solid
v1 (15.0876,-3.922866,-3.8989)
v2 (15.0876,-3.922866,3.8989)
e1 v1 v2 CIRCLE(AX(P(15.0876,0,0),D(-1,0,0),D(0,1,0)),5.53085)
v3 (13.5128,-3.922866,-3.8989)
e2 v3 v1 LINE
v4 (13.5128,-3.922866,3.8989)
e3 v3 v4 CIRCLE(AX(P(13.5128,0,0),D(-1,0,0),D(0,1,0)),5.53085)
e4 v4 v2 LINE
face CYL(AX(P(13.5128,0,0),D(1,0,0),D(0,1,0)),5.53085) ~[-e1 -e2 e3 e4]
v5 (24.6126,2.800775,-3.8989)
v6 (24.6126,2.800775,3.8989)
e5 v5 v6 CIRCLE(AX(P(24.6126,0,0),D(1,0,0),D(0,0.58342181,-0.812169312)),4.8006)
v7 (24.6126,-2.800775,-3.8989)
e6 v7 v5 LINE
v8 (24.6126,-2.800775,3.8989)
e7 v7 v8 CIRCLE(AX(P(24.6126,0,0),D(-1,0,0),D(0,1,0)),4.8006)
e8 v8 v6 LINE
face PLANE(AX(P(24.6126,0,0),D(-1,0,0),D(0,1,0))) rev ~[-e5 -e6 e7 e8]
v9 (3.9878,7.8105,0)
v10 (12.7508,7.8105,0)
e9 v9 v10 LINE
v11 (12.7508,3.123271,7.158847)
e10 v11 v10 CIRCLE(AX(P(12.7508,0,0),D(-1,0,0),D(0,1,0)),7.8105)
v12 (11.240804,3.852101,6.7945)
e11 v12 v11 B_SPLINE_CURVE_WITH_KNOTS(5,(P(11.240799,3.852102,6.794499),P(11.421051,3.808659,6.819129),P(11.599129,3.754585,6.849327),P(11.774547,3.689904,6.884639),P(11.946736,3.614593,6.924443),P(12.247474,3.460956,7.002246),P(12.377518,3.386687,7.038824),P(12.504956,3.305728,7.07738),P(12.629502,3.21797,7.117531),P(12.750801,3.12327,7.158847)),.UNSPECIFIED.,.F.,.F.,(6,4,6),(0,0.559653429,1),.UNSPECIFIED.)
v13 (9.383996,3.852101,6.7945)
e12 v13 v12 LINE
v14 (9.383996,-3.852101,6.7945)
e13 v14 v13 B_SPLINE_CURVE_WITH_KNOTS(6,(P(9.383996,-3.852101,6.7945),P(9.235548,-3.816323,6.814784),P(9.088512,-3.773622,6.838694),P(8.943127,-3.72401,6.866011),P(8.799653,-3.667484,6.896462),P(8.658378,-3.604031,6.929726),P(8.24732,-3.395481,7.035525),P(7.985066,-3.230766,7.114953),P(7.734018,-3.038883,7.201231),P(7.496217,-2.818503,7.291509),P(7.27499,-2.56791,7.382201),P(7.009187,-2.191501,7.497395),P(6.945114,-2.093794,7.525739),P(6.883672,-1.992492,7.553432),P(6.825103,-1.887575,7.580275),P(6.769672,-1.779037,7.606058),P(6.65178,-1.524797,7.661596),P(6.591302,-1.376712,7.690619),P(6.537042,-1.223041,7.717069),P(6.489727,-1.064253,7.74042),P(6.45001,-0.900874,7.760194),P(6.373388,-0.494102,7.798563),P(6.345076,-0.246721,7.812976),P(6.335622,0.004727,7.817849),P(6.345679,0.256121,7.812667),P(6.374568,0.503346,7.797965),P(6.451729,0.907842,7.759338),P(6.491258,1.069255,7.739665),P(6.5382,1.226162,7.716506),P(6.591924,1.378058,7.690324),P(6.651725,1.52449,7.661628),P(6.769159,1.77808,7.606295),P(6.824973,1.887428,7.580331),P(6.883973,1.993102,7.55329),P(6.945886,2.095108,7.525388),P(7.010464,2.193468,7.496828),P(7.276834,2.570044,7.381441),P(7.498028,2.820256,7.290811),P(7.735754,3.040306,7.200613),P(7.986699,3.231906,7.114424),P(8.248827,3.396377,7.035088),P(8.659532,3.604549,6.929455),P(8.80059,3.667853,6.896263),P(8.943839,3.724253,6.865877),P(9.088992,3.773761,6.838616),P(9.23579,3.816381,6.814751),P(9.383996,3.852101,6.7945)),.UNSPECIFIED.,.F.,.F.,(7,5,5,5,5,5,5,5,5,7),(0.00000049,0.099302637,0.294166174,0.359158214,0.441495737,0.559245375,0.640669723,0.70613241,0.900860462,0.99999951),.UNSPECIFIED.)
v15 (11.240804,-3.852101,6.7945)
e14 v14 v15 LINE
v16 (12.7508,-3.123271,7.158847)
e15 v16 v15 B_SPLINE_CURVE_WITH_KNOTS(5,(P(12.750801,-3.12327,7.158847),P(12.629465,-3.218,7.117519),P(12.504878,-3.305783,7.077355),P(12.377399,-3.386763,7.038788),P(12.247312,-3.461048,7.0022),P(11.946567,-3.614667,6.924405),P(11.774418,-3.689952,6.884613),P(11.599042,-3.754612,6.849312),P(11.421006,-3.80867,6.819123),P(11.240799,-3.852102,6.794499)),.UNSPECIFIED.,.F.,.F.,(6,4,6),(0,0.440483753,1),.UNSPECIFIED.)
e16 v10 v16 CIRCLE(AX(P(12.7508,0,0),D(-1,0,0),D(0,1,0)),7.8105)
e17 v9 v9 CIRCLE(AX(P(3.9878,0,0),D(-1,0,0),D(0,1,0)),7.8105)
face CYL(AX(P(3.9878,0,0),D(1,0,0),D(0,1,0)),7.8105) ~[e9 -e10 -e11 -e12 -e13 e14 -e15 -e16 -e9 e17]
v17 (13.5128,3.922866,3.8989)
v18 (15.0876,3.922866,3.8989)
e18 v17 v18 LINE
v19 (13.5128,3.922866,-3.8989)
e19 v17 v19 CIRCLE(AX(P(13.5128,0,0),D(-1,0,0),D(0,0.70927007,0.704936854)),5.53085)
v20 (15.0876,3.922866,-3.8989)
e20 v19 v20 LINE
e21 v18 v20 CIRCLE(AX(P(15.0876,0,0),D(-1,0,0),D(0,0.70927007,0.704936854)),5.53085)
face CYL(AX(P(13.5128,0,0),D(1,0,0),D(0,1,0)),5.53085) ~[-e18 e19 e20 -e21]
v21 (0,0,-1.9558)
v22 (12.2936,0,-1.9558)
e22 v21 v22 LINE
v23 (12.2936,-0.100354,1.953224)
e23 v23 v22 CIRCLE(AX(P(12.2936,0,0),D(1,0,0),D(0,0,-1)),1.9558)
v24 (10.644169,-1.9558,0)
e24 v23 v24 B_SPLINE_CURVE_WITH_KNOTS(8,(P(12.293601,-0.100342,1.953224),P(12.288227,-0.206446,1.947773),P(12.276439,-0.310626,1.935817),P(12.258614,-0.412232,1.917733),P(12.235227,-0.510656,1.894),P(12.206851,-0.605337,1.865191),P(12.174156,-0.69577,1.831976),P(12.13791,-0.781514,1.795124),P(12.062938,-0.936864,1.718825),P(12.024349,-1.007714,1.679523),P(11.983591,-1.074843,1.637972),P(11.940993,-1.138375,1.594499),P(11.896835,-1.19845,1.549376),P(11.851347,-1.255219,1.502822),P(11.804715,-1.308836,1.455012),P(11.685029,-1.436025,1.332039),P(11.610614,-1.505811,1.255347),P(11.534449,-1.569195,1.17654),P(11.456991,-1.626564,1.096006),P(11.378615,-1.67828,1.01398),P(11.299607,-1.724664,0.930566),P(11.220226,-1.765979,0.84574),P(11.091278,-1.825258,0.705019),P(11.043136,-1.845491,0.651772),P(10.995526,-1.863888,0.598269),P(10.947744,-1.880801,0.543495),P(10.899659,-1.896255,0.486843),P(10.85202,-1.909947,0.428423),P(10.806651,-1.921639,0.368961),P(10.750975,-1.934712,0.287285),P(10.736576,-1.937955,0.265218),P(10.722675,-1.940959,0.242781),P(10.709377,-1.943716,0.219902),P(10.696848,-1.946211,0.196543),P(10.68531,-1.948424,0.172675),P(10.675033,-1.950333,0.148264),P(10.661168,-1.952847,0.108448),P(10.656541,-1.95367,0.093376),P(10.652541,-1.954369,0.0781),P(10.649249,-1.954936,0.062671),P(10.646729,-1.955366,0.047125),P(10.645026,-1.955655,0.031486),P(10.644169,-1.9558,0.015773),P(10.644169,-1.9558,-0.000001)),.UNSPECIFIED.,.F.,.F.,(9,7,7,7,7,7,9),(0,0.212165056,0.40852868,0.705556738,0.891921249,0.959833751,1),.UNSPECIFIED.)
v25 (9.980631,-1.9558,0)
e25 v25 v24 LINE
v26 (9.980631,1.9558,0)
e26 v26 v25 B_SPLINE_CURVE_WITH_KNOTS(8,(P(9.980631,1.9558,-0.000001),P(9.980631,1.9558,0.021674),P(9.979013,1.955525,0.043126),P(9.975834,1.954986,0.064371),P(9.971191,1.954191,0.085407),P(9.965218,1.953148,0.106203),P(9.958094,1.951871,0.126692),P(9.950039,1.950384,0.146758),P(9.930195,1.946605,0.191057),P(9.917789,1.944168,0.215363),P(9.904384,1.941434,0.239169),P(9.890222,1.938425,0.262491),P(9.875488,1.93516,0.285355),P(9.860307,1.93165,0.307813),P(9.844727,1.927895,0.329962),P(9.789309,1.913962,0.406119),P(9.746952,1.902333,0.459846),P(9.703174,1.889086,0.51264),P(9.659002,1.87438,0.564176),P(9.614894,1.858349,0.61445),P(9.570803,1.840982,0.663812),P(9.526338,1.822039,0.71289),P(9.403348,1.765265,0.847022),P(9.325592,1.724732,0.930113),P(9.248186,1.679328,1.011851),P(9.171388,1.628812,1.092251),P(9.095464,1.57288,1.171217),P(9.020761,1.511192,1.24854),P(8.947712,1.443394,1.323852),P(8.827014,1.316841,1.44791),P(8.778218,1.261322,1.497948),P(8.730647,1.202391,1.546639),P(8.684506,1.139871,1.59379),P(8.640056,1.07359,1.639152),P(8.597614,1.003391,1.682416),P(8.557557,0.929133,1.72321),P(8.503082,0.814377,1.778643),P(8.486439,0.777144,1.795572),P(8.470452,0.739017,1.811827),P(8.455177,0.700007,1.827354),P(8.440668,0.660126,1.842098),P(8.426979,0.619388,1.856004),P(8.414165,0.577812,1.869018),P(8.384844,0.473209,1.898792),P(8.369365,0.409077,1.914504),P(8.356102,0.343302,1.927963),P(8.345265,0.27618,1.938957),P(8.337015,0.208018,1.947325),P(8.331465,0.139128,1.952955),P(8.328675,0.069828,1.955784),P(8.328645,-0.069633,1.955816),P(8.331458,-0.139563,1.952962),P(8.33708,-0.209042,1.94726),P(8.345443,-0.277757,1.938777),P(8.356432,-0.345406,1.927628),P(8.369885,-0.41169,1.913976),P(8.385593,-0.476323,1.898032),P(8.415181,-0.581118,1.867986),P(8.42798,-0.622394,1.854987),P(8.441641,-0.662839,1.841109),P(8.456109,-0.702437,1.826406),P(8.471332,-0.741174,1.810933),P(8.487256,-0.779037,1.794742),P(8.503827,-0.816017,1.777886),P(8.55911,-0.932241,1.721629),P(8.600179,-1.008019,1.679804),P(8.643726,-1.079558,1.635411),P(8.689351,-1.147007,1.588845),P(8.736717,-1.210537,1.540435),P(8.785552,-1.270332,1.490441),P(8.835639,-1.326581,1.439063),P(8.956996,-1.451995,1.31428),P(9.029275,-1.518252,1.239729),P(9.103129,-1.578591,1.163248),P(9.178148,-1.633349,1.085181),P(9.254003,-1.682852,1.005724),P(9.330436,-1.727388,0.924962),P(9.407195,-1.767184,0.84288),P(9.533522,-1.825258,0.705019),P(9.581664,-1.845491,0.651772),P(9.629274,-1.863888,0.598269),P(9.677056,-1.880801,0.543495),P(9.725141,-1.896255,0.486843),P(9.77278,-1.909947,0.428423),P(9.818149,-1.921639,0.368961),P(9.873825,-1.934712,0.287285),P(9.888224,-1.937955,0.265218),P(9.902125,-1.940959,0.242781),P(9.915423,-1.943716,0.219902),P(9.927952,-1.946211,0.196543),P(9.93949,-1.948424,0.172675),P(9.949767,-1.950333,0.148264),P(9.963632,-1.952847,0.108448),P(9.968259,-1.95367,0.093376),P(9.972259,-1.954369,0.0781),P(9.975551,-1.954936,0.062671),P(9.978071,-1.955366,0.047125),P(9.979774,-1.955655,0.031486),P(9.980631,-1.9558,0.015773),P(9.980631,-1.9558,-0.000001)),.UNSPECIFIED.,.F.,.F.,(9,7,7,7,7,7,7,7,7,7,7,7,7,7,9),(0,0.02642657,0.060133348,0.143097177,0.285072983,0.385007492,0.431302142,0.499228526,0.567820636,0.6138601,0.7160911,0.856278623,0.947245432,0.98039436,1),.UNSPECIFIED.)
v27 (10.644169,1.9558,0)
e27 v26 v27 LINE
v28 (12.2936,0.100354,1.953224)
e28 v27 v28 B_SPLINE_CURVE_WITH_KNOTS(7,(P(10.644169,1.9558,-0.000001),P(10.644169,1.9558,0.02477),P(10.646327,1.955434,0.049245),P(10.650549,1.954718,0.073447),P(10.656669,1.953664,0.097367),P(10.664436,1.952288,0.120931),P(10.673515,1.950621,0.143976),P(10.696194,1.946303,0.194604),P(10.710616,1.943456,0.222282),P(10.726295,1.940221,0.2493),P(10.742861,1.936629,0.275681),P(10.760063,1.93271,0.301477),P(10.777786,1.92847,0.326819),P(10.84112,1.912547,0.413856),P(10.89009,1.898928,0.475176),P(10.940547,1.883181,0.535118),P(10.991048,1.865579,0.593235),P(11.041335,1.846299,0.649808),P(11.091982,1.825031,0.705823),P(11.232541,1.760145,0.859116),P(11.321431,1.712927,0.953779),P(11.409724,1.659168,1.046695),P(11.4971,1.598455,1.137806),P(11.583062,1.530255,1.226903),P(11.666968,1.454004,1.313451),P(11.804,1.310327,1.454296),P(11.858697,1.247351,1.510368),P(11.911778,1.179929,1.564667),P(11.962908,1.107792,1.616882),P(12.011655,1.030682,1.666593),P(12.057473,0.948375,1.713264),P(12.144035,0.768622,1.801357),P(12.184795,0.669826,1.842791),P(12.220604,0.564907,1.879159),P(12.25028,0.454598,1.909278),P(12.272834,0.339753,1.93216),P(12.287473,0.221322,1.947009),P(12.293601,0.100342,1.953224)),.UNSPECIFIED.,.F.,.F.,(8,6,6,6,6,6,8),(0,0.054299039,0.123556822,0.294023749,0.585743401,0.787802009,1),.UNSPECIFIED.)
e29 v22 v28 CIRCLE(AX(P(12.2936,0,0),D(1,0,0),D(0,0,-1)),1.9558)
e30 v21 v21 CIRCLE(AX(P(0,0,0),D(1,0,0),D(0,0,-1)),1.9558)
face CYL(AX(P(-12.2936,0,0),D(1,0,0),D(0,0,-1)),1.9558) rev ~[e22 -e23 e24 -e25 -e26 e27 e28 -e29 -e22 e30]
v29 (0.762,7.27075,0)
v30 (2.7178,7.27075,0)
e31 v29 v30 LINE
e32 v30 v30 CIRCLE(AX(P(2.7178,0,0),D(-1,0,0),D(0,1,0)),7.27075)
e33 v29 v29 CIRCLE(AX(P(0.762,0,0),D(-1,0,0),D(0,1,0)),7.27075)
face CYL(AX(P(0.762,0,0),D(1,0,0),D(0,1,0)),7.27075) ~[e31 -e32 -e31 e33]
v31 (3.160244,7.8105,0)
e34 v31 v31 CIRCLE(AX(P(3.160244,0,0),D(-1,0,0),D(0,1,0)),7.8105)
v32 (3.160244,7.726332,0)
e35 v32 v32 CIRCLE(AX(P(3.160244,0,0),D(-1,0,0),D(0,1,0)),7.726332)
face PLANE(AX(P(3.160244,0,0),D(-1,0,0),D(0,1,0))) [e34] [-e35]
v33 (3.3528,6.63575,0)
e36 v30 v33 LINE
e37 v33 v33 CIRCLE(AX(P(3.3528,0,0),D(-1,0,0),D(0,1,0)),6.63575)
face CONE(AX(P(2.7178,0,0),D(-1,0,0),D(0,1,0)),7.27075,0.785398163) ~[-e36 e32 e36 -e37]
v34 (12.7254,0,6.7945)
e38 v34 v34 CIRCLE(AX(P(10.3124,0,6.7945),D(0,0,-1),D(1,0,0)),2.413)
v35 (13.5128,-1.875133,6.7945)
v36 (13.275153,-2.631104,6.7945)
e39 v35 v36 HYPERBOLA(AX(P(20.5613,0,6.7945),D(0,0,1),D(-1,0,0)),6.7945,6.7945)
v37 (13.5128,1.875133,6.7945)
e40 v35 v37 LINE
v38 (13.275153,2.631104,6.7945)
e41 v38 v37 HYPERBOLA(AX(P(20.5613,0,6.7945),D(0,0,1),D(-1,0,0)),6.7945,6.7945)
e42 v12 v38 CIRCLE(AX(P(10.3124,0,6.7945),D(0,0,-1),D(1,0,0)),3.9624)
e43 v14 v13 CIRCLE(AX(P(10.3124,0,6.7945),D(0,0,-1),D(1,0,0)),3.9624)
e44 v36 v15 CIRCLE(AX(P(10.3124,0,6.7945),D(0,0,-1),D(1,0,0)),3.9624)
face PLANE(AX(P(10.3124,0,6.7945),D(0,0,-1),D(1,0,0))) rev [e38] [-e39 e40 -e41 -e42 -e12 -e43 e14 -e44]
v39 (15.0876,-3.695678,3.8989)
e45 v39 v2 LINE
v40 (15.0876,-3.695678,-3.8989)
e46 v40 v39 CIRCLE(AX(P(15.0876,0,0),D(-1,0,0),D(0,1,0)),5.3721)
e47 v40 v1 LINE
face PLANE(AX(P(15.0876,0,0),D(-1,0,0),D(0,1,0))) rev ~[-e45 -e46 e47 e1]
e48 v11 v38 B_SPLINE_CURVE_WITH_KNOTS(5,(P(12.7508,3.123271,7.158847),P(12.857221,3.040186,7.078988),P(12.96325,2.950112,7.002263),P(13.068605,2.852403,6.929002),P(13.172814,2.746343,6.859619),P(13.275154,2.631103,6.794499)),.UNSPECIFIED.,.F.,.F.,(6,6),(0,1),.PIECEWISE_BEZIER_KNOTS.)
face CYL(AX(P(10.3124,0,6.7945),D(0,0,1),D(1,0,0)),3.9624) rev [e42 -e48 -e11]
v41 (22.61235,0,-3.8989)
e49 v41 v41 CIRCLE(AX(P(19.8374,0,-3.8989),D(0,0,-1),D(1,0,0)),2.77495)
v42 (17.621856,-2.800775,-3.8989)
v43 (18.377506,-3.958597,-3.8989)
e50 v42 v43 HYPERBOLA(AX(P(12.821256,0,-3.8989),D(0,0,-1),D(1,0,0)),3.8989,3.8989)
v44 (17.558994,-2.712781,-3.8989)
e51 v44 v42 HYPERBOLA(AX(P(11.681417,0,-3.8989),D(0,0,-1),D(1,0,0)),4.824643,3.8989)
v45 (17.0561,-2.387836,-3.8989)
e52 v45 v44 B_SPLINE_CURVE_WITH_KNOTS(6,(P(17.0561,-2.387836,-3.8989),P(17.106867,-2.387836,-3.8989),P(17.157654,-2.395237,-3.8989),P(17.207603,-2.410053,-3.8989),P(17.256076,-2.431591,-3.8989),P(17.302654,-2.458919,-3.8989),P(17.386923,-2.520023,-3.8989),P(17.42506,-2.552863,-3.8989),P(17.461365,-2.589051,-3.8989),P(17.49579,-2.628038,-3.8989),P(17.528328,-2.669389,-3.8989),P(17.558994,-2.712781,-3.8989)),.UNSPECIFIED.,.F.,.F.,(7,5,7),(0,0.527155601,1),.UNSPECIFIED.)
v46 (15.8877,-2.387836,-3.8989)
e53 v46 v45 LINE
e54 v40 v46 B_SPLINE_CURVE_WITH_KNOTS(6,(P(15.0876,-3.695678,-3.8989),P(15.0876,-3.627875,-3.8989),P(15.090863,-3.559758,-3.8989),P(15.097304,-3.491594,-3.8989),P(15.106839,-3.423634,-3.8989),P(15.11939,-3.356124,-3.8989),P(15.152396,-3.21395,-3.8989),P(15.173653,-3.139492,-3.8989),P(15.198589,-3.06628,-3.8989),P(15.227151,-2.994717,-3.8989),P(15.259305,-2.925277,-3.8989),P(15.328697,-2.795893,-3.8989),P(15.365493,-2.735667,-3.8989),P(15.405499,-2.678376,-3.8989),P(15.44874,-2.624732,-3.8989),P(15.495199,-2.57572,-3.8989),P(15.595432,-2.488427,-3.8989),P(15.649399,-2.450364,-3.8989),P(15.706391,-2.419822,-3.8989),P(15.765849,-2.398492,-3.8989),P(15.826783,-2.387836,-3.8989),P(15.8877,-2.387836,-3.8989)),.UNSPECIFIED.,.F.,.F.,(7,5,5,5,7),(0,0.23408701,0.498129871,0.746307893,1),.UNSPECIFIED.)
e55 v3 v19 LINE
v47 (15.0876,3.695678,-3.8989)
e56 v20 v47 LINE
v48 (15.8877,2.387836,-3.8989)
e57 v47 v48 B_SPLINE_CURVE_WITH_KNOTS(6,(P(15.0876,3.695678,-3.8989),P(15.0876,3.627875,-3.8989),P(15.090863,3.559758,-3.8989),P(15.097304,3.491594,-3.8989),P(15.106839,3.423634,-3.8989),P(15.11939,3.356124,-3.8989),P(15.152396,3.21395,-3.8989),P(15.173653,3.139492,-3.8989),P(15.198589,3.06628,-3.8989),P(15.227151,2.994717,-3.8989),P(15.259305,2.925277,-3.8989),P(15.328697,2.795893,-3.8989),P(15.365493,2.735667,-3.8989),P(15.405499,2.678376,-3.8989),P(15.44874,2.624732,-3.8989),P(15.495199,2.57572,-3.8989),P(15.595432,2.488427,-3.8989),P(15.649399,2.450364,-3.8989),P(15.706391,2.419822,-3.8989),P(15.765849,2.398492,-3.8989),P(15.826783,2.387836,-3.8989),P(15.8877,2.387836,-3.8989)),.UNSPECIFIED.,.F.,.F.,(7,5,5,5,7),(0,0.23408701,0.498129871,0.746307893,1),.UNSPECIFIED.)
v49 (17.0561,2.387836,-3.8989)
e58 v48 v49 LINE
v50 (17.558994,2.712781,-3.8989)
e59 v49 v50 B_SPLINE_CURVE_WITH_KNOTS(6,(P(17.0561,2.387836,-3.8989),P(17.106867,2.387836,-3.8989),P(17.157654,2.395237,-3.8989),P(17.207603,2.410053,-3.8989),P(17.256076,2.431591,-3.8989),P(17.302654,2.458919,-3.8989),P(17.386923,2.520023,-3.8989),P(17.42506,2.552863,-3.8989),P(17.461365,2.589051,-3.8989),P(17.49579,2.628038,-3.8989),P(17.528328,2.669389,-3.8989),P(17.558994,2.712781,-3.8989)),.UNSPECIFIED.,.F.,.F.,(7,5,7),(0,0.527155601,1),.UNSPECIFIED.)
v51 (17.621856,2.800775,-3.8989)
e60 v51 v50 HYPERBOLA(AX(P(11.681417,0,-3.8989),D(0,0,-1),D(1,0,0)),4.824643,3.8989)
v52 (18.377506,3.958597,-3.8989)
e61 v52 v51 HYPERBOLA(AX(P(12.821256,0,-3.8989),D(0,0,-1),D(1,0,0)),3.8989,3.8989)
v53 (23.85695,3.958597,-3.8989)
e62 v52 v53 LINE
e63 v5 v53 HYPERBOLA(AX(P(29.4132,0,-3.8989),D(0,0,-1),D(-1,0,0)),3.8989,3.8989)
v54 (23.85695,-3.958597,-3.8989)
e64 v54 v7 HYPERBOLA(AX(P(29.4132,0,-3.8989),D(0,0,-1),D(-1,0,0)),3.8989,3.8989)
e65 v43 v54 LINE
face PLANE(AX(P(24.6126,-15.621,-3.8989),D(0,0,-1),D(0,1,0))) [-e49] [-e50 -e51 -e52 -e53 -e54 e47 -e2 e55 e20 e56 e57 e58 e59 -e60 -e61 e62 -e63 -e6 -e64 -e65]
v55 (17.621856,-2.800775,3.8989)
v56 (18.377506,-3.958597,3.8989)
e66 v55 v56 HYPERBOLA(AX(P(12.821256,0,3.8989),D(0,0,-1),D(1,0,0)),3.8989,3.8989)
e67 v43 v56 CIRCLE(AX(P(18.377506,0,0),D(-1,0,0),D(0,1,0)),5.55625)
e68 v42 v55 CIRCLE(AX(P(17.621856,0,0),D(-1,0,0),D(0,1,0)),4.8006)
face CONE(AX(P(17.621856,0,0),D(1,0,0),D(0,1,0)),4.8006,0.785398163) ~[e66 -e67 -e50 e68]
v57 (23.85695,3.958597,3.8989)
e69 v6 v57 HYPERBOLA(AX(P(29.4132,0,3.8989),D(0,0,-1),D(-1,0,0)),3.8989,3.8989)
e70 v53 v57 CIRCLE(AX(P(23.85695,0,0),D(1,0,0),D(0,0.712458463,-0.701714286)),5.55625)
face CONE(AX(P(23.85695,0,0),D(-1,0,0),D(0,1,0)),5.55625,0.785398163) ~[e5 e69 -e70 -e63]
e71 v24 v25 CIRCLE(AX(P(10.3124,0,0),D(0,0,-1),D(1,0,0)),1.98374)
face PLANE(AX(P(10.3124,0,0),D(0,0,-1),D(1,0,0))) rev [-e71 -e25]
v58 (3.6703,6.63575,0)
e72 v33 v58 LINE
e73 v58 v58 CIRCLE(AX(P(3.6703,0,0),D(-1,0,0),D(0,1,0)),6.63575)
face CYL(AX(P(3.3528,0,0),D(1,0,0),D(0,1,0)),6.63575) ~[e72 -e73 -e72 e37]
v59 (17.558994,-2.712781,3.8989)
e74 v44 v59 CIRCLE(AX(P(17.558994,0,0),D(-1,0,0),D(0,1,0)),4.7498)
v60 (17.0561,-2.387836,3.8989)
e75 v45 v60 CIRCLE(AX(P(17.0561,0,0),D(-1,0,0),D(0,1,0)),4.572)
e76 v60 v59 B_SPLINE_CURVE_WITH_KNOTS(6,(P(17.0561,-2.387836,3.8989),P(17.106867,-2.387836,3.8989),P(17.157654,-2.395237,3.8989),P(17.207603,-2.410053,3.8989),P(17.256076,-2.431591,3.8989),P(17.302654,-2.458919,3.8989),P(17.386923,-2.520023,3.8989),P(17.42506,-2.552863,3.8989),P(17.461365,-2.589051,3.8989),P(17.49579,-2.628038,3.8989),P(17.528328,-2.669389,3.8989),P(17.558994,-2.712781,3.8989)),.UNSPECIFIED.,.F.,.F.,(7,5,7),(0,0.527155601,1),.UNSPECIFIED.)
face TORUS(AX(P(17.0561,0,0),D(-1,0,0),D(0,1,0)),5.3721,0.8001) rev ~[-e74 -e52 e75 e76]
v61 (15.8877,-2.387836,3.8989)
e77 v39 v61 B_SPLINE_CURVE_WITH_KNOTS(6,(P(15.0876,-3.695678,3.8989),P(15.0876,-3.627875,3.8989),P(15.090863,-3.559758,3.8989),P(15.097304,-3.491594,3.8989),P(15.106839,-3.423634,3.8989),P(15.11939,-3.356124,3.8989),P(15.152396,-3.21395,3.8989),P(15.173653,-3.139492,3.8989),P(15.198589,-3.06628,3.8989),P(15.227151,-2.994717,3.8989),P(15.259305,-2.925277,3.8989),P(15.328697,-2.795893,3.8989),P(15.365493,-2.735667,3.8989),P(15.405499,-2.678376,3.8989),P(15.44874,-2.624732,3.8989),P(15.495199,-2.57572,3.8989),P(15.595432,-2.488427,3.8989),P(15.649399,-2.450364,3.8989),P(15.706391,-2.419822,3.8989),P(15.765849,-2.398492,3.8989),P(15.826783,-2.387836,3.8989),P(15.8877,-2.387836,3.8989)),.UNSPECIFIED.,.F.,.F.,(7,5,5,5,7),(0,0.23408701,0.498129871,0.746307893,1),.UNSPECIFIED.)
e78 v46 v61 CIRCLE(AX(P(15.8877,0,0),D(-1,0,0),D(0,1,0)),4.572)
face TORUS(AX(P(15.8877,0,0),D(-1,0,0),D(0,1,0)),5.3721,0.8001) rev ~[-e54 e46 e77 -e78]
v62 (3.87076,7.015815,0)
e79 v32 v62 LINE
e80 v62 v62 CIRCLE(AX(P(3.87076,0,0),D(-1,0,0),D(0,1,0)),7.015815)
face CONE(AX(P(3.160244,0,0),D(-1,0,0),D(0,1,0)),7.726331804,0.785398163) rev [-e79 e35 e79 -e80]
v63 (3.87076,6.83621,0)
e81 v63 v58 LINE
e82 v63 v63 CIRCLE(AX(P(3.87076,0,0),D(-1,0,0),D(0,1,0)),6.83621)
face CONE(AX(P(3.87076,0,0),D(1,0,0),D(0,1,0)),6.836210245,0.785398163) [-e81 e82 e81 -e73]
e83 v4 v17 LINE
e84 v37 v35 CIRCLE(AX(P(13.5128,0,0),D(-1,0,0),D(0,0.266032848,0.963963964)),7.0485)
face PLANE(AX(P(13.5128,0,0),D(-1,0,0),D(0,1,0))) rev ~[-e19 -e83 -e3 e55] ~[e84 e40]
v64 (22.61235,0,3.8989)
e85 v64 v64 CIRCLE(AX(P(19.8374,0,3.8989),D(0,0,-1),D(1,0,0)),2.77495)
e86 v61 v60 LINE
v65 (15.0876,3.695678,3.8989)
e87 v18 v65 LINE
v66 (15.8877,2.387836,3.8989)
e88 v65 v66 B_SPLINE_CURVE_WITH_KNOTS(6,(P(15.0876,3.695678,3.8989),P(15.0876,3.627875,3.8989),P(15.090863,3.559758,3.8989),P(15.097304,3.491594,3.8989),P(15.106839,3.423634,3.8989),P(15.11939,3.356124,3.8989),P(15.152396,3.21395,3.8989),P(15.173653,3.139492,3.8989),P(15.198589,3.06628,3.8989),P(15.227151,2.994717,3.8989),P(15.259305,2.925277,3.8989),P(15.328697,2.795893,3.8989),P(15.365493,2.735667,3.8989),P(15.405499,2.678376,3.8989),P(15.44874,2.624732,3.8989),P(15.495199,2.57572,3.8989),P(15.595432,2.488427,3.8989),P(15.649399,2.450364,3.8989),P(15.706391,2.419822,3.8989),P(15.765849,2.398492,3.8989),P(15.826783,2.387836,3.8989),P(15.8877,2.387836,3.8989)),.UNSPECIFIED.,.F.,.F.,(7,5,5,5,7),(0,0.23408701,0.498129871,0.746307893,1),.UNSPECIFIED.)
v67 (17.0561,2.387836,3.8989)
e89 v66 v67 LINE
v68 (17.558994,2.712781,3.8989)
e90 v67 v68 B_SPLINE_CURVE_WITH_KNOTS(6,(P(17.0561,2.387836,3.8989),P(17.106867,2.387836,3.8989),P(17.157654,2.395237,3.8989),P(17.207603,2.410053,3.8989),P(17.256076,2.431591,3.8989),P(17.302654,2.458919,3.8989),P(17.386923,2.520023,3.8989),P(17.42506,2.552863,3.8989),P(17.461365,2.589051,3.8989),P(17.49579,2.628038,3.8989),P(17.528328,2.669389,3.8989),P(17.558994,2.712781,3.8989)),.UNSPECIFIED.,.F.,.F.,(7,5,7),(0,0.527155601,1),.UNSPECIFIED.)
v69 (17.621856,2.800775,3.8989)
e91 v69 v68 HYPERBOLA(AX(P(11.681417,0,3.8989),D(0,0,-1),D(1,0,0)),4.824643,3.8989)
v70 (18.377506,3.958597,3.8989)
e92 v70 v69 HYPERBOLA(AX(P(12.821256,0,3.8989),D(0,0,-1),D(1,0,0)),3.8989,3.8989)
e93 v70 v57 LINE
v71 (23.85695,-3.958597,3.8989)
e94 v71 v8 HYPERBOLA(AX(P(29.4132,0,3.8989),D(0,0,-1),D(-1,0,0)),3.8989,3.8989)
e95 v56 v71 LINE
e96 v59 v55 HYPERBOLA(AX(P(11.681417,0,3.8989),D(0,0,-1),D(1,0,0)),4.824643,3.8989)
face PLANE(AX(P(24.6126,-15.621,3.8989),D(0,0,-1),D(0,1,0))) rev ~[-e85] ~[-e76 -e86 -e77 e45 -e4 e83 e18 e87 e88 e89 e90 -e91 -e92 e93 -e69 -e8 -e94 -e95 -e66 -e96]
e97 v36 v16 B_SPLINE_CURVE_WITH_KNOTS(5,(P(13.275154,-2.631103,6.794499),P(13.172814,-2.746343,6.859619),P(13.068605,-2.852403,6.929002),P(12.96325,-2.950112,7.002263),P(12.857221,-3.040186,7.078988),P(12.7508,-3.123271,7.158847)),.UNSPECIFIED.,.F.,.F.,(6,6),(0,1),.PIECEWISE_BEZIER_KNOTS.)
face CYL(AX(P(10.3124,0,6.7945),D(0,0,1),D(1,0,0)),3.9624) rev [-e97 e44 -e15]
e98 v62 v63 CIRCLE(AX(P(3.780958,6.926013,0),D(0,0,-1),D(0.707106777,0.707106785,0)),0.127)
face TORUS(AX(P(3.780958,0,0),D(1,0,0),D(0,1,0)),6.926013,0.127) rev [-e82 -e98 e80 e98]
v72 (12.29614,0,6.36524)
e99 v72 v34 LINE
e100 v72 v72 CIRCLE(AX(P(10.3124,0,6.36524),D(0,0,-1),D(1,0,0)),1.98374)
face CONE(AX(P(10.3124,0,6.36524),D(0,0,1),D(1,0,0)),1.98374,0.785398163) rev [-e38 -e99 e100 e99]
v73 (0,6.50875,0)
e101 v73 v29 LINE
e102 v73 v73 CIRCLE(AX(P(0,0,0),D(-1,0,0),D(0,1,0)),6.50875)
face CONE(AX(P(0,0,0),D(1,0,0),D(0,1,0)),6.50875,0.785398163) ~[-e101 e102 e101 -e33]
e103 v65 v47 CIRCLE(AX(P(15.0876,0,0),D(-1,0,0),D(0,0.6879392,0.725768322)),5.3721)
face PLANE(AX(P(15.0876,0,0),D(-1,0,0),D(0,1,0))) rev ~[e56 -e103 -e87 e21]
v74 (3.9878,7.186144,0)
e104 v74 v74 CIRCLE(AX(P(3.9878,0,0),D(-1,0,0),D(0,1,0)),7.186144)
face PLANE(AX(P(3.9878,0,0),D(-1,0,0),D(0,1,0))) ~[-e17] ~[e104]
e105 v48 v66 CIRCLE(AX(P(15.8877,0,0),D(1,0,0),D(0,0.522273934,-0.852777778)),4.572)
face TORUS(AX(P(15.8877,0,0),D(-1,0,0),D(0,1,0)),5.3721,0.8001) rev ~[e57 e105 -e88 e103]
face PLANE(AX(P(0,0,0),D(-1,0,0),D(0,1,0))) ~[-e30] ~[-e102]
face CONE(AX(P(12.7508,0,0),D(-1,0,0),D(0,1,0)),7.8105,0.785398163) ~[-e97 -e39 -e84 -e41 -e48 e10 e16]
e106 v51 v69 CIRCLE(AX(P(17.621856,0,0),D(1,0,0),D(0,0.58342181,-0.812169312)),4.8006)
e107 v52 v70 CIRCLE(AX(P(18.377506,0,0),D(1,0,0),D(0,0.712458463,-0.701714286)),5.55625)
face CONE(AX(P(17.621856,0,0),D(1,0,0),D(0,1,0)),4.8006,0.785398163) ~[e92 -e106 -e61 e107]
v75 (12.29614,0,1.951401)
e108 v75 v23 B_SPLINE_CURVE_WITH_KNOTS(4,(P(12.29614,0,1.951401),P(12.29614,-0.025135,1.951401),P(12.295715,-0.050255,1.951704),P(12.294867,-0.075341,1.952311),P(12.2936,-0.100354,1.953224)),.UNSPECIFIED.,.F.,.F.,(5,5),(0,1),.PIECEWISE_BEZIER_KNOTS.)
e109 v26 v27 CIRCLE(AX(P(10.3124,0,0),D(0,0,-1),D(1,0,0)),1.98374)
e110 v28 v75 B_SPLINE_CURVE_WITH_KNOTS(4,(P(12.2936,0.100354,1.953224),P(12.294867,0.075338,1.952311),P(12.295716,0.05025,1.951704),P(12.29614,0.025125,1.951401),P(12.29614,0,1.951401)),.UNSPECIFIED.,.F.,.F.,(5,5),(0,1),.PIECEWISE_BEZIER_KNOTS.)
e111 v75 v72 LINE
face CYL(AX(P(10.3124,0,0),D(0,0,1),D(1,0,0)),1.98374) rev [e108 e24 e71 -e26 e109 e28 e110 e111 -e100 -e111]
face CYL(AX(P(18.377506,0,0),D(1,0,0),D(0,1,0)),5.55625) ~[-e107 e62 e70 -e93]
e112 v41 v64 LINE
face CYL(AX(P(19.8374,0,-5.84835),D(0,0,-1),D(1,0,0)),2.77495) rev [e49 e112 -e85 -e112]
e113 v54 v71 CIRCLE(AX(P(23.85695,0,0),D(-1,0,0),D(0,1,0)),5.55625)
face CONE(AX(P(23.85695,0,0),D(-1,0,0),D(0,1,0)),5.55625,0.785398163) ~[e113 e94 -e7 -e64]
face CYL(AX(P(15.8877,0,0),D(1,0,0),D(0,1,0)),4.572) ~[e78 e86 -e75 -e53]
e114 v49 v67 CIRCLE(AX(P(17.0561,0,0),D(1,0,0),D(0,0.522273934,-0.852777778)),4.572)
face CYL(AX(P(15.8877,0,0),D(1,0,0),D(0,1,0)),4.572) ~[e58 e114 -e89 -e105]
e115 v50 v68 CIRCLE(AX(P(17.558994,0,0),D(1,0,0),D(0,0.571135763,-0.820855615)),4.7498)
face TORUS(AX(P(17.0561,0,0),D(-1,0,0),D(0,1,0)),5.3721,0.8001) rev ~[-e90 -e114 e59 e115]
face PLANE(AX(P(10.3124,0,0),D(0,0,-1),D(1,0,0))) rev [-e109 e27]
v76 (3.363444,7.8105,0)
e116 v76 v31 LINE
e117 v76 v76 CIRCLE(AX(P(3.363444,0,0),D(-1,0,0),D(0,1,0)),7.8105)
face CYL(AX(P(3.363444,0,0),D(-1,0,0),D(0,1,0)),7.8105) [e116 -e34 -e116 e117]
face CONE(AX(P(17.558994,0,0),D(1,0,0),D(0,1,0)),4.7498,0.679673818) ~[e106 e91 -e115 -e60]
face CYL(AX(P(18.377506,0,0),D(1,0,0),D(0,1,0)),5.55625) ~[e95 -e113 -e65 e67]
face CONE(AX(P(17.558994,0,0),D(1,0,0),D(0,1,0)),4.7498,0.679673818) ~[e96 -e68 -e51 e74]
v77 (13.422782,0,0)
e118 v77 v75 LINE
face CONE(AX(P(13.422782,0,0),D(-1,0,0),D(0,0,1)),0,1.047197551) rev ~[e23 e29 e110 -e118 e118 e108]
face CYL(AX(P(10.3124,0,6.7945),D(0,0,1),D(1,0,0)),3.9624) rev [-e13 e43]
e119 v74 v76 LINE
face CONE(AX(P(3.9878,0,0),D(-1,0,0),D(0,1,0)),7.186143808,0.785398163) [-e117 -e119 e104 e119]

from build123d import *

# Parameters (mm, degrees)
SKETCH3_W               = 31.242
SKETCH3_H               = 62.484
SKETCH3_W_2             = 7.7978
SKETCH3_H_2             = 31.242
CUT_EXTRUDE1_DEPTH      = 11.0998
HOLE1_D                 = 3.9116
HOLE1_DEPTH             = 12.2936
HOLE1_TIP               = 1.129181656
CUT_EXTRUDE2_DEPTH      = 5.84835
CUT_EXTRUDE2_DEPTH_BACK = 5.84835
SKETCH8_R               = 2.77495


with BuildPart() as part:
    # Sketch1 → Revolve1 (revolve)
    with BuildSketch(Plane.XY):
        Polygon((0, 0), (0, 6.50875), (0.762, 7.27075), (2.7178, 7.27075), (3.3528, 6.63575), (3.9878, 6.63575), (3.9878, 7.8105), (12.7508, 7.8105), (13.5128, 7.0485), (13.5128, 0), align=None)
    revolve(axis=Axis((13.5128, 0, 0), (-1, 0, 0)))

    # Sketch2 → Revolve2 (revolve)
    with BuildSketch(Plane.XY):
        with BuildLine():
            Line((13.5128, 0), (13.5128, 5.53085))
            Line((13.5128, 5.53085), (15.0876, 5.53085))
            Line((15.0876, 5.53085), (15.0876, 5.3721))
            ThreePointArc((15.0876, 5.3721), (15.321943864, 4.806343864), (15.8877, 4.572))
            Line((15.8877, 4.572), (17.0561, 4.572))
            ThreePointArc((17.0561, 4.572), (17.3228, 4.617758486), (17.558994343, 4.7498))
            Line((17.558994343, 4.7498), (17.621856136, 4.8006))
            Line((17.621856136, 4.8006), (18.377506136, 5.55625))
            Line((18.377506136, 5.55625), (23.85695, 5.55625))
            Line((23.85695, 5.55625), (24.6126, 4.8006))
            Line((24.6126, 4.8006), (24.6126, 0))
            Line((24.6126, 0), (13.5128, 0))
        make_face()
    revolve(axis=Axis((24.6126, 0, 0), (-1, 0, 0)))

    # Sketch3 → Cut-Extrude1 (cut)
    with BuildSketch(Plane(origin=(24.6126, 0, 0), x_dir=(0, 0, -1), z_dir=(1, 0, 0))):
        Rectangle(SKETCH3_W, SKETCH3_H)
        Rectangle(SKETCH3_W_2, SKETCH3_H_2, mode=Mode.SUBTRACT)
    extrude(amount=-CUT_EXTRUDE1_DEPTH, mode=Mode.SUBTRACT)

    # Hole1
    with Locations(Plane.ZY):
        with Locations((0, 0)):
            Hole(HOLE1_D / 2, depth=HOLE1_DEPTH)
            with Locations((0, 0, -(HOLE1_DEPTH + HOLE1_TIP / 2))):  # 120° drill point
                Cone(0, HOLE1_D / 2, HOLE1_TIP, mode=Mode.SUBTRACT)

    # Sketch6 → Cut-Revolve1 (revolve, cut)
    with BuildSketch(Plane(origin=(0, 0, 0), x_dir=(1, 0, 0), z_dir=(0, 1, 0))):
        Polygon((10.3124, 0), (12.29614, 0), (12.29614, -6.36524), (12.7254, -6.7945), (14.2748, -6.7945), (14.2748, -7.8105), (10.3124, -7.8105), align=None)
    revolve(axis=Axis((10.3124, 0, 7.8105), (0, 0, -1)), mode=Mode.SUBTRACT)

    # Sketch7 → Revolve3 (revolve)
    with BuildSketch(Plane.XY):
        with BuildLine():
            Line((3.160243808, 7.726331804), (3.870760245, 7.015815367))
            ThreePointArc((3.870760245, 7.015815367), (3.907957684, 6.926012806), (3.870760245, 6.836210245))
            Line((3.870760245, 6.836210245), (3.6703, 6.63575))
            Line((3.6703, 6.63575), (3.3528, 6.63575))
            Line((3.3528, 6.63575), (3.3528, 6.38175))
            Line((3.3528, 6.38175), (3.9878, 6.38175))
            Line((3.9878, 6.38175), (3.9878, 7.186143808))
            Line((3.9878, 7.186143808), (3.363443808, 7.8105))
            Line((3.363443808, 7.8105), (3.160243808, 7.8105))
            Line((3.160243808, 7.8105), (3.160243808, 7.726331804))
        make_face()
    revolve(axis=Axis((3.9878, 0, 0), (-1, 0, 0)))

    # Sketch8 → Cut-Extrude2 (cut, two sides: drawn at the far end of the back side and taken through both)
    with BuildSketch(Plane.XY.offset(-CUT_EXTRUDE2_DEPTH_BACK)):
        with Locations((19.8374, 0)):
            Circle(SKETCH8_R)
    extrude(amount=CUT_EXTRUDE2_DEPTH + CUT_EXTRUDE2_DEPTH_BACK, mode=Mode.SUBTRACT)


solid = part.part
